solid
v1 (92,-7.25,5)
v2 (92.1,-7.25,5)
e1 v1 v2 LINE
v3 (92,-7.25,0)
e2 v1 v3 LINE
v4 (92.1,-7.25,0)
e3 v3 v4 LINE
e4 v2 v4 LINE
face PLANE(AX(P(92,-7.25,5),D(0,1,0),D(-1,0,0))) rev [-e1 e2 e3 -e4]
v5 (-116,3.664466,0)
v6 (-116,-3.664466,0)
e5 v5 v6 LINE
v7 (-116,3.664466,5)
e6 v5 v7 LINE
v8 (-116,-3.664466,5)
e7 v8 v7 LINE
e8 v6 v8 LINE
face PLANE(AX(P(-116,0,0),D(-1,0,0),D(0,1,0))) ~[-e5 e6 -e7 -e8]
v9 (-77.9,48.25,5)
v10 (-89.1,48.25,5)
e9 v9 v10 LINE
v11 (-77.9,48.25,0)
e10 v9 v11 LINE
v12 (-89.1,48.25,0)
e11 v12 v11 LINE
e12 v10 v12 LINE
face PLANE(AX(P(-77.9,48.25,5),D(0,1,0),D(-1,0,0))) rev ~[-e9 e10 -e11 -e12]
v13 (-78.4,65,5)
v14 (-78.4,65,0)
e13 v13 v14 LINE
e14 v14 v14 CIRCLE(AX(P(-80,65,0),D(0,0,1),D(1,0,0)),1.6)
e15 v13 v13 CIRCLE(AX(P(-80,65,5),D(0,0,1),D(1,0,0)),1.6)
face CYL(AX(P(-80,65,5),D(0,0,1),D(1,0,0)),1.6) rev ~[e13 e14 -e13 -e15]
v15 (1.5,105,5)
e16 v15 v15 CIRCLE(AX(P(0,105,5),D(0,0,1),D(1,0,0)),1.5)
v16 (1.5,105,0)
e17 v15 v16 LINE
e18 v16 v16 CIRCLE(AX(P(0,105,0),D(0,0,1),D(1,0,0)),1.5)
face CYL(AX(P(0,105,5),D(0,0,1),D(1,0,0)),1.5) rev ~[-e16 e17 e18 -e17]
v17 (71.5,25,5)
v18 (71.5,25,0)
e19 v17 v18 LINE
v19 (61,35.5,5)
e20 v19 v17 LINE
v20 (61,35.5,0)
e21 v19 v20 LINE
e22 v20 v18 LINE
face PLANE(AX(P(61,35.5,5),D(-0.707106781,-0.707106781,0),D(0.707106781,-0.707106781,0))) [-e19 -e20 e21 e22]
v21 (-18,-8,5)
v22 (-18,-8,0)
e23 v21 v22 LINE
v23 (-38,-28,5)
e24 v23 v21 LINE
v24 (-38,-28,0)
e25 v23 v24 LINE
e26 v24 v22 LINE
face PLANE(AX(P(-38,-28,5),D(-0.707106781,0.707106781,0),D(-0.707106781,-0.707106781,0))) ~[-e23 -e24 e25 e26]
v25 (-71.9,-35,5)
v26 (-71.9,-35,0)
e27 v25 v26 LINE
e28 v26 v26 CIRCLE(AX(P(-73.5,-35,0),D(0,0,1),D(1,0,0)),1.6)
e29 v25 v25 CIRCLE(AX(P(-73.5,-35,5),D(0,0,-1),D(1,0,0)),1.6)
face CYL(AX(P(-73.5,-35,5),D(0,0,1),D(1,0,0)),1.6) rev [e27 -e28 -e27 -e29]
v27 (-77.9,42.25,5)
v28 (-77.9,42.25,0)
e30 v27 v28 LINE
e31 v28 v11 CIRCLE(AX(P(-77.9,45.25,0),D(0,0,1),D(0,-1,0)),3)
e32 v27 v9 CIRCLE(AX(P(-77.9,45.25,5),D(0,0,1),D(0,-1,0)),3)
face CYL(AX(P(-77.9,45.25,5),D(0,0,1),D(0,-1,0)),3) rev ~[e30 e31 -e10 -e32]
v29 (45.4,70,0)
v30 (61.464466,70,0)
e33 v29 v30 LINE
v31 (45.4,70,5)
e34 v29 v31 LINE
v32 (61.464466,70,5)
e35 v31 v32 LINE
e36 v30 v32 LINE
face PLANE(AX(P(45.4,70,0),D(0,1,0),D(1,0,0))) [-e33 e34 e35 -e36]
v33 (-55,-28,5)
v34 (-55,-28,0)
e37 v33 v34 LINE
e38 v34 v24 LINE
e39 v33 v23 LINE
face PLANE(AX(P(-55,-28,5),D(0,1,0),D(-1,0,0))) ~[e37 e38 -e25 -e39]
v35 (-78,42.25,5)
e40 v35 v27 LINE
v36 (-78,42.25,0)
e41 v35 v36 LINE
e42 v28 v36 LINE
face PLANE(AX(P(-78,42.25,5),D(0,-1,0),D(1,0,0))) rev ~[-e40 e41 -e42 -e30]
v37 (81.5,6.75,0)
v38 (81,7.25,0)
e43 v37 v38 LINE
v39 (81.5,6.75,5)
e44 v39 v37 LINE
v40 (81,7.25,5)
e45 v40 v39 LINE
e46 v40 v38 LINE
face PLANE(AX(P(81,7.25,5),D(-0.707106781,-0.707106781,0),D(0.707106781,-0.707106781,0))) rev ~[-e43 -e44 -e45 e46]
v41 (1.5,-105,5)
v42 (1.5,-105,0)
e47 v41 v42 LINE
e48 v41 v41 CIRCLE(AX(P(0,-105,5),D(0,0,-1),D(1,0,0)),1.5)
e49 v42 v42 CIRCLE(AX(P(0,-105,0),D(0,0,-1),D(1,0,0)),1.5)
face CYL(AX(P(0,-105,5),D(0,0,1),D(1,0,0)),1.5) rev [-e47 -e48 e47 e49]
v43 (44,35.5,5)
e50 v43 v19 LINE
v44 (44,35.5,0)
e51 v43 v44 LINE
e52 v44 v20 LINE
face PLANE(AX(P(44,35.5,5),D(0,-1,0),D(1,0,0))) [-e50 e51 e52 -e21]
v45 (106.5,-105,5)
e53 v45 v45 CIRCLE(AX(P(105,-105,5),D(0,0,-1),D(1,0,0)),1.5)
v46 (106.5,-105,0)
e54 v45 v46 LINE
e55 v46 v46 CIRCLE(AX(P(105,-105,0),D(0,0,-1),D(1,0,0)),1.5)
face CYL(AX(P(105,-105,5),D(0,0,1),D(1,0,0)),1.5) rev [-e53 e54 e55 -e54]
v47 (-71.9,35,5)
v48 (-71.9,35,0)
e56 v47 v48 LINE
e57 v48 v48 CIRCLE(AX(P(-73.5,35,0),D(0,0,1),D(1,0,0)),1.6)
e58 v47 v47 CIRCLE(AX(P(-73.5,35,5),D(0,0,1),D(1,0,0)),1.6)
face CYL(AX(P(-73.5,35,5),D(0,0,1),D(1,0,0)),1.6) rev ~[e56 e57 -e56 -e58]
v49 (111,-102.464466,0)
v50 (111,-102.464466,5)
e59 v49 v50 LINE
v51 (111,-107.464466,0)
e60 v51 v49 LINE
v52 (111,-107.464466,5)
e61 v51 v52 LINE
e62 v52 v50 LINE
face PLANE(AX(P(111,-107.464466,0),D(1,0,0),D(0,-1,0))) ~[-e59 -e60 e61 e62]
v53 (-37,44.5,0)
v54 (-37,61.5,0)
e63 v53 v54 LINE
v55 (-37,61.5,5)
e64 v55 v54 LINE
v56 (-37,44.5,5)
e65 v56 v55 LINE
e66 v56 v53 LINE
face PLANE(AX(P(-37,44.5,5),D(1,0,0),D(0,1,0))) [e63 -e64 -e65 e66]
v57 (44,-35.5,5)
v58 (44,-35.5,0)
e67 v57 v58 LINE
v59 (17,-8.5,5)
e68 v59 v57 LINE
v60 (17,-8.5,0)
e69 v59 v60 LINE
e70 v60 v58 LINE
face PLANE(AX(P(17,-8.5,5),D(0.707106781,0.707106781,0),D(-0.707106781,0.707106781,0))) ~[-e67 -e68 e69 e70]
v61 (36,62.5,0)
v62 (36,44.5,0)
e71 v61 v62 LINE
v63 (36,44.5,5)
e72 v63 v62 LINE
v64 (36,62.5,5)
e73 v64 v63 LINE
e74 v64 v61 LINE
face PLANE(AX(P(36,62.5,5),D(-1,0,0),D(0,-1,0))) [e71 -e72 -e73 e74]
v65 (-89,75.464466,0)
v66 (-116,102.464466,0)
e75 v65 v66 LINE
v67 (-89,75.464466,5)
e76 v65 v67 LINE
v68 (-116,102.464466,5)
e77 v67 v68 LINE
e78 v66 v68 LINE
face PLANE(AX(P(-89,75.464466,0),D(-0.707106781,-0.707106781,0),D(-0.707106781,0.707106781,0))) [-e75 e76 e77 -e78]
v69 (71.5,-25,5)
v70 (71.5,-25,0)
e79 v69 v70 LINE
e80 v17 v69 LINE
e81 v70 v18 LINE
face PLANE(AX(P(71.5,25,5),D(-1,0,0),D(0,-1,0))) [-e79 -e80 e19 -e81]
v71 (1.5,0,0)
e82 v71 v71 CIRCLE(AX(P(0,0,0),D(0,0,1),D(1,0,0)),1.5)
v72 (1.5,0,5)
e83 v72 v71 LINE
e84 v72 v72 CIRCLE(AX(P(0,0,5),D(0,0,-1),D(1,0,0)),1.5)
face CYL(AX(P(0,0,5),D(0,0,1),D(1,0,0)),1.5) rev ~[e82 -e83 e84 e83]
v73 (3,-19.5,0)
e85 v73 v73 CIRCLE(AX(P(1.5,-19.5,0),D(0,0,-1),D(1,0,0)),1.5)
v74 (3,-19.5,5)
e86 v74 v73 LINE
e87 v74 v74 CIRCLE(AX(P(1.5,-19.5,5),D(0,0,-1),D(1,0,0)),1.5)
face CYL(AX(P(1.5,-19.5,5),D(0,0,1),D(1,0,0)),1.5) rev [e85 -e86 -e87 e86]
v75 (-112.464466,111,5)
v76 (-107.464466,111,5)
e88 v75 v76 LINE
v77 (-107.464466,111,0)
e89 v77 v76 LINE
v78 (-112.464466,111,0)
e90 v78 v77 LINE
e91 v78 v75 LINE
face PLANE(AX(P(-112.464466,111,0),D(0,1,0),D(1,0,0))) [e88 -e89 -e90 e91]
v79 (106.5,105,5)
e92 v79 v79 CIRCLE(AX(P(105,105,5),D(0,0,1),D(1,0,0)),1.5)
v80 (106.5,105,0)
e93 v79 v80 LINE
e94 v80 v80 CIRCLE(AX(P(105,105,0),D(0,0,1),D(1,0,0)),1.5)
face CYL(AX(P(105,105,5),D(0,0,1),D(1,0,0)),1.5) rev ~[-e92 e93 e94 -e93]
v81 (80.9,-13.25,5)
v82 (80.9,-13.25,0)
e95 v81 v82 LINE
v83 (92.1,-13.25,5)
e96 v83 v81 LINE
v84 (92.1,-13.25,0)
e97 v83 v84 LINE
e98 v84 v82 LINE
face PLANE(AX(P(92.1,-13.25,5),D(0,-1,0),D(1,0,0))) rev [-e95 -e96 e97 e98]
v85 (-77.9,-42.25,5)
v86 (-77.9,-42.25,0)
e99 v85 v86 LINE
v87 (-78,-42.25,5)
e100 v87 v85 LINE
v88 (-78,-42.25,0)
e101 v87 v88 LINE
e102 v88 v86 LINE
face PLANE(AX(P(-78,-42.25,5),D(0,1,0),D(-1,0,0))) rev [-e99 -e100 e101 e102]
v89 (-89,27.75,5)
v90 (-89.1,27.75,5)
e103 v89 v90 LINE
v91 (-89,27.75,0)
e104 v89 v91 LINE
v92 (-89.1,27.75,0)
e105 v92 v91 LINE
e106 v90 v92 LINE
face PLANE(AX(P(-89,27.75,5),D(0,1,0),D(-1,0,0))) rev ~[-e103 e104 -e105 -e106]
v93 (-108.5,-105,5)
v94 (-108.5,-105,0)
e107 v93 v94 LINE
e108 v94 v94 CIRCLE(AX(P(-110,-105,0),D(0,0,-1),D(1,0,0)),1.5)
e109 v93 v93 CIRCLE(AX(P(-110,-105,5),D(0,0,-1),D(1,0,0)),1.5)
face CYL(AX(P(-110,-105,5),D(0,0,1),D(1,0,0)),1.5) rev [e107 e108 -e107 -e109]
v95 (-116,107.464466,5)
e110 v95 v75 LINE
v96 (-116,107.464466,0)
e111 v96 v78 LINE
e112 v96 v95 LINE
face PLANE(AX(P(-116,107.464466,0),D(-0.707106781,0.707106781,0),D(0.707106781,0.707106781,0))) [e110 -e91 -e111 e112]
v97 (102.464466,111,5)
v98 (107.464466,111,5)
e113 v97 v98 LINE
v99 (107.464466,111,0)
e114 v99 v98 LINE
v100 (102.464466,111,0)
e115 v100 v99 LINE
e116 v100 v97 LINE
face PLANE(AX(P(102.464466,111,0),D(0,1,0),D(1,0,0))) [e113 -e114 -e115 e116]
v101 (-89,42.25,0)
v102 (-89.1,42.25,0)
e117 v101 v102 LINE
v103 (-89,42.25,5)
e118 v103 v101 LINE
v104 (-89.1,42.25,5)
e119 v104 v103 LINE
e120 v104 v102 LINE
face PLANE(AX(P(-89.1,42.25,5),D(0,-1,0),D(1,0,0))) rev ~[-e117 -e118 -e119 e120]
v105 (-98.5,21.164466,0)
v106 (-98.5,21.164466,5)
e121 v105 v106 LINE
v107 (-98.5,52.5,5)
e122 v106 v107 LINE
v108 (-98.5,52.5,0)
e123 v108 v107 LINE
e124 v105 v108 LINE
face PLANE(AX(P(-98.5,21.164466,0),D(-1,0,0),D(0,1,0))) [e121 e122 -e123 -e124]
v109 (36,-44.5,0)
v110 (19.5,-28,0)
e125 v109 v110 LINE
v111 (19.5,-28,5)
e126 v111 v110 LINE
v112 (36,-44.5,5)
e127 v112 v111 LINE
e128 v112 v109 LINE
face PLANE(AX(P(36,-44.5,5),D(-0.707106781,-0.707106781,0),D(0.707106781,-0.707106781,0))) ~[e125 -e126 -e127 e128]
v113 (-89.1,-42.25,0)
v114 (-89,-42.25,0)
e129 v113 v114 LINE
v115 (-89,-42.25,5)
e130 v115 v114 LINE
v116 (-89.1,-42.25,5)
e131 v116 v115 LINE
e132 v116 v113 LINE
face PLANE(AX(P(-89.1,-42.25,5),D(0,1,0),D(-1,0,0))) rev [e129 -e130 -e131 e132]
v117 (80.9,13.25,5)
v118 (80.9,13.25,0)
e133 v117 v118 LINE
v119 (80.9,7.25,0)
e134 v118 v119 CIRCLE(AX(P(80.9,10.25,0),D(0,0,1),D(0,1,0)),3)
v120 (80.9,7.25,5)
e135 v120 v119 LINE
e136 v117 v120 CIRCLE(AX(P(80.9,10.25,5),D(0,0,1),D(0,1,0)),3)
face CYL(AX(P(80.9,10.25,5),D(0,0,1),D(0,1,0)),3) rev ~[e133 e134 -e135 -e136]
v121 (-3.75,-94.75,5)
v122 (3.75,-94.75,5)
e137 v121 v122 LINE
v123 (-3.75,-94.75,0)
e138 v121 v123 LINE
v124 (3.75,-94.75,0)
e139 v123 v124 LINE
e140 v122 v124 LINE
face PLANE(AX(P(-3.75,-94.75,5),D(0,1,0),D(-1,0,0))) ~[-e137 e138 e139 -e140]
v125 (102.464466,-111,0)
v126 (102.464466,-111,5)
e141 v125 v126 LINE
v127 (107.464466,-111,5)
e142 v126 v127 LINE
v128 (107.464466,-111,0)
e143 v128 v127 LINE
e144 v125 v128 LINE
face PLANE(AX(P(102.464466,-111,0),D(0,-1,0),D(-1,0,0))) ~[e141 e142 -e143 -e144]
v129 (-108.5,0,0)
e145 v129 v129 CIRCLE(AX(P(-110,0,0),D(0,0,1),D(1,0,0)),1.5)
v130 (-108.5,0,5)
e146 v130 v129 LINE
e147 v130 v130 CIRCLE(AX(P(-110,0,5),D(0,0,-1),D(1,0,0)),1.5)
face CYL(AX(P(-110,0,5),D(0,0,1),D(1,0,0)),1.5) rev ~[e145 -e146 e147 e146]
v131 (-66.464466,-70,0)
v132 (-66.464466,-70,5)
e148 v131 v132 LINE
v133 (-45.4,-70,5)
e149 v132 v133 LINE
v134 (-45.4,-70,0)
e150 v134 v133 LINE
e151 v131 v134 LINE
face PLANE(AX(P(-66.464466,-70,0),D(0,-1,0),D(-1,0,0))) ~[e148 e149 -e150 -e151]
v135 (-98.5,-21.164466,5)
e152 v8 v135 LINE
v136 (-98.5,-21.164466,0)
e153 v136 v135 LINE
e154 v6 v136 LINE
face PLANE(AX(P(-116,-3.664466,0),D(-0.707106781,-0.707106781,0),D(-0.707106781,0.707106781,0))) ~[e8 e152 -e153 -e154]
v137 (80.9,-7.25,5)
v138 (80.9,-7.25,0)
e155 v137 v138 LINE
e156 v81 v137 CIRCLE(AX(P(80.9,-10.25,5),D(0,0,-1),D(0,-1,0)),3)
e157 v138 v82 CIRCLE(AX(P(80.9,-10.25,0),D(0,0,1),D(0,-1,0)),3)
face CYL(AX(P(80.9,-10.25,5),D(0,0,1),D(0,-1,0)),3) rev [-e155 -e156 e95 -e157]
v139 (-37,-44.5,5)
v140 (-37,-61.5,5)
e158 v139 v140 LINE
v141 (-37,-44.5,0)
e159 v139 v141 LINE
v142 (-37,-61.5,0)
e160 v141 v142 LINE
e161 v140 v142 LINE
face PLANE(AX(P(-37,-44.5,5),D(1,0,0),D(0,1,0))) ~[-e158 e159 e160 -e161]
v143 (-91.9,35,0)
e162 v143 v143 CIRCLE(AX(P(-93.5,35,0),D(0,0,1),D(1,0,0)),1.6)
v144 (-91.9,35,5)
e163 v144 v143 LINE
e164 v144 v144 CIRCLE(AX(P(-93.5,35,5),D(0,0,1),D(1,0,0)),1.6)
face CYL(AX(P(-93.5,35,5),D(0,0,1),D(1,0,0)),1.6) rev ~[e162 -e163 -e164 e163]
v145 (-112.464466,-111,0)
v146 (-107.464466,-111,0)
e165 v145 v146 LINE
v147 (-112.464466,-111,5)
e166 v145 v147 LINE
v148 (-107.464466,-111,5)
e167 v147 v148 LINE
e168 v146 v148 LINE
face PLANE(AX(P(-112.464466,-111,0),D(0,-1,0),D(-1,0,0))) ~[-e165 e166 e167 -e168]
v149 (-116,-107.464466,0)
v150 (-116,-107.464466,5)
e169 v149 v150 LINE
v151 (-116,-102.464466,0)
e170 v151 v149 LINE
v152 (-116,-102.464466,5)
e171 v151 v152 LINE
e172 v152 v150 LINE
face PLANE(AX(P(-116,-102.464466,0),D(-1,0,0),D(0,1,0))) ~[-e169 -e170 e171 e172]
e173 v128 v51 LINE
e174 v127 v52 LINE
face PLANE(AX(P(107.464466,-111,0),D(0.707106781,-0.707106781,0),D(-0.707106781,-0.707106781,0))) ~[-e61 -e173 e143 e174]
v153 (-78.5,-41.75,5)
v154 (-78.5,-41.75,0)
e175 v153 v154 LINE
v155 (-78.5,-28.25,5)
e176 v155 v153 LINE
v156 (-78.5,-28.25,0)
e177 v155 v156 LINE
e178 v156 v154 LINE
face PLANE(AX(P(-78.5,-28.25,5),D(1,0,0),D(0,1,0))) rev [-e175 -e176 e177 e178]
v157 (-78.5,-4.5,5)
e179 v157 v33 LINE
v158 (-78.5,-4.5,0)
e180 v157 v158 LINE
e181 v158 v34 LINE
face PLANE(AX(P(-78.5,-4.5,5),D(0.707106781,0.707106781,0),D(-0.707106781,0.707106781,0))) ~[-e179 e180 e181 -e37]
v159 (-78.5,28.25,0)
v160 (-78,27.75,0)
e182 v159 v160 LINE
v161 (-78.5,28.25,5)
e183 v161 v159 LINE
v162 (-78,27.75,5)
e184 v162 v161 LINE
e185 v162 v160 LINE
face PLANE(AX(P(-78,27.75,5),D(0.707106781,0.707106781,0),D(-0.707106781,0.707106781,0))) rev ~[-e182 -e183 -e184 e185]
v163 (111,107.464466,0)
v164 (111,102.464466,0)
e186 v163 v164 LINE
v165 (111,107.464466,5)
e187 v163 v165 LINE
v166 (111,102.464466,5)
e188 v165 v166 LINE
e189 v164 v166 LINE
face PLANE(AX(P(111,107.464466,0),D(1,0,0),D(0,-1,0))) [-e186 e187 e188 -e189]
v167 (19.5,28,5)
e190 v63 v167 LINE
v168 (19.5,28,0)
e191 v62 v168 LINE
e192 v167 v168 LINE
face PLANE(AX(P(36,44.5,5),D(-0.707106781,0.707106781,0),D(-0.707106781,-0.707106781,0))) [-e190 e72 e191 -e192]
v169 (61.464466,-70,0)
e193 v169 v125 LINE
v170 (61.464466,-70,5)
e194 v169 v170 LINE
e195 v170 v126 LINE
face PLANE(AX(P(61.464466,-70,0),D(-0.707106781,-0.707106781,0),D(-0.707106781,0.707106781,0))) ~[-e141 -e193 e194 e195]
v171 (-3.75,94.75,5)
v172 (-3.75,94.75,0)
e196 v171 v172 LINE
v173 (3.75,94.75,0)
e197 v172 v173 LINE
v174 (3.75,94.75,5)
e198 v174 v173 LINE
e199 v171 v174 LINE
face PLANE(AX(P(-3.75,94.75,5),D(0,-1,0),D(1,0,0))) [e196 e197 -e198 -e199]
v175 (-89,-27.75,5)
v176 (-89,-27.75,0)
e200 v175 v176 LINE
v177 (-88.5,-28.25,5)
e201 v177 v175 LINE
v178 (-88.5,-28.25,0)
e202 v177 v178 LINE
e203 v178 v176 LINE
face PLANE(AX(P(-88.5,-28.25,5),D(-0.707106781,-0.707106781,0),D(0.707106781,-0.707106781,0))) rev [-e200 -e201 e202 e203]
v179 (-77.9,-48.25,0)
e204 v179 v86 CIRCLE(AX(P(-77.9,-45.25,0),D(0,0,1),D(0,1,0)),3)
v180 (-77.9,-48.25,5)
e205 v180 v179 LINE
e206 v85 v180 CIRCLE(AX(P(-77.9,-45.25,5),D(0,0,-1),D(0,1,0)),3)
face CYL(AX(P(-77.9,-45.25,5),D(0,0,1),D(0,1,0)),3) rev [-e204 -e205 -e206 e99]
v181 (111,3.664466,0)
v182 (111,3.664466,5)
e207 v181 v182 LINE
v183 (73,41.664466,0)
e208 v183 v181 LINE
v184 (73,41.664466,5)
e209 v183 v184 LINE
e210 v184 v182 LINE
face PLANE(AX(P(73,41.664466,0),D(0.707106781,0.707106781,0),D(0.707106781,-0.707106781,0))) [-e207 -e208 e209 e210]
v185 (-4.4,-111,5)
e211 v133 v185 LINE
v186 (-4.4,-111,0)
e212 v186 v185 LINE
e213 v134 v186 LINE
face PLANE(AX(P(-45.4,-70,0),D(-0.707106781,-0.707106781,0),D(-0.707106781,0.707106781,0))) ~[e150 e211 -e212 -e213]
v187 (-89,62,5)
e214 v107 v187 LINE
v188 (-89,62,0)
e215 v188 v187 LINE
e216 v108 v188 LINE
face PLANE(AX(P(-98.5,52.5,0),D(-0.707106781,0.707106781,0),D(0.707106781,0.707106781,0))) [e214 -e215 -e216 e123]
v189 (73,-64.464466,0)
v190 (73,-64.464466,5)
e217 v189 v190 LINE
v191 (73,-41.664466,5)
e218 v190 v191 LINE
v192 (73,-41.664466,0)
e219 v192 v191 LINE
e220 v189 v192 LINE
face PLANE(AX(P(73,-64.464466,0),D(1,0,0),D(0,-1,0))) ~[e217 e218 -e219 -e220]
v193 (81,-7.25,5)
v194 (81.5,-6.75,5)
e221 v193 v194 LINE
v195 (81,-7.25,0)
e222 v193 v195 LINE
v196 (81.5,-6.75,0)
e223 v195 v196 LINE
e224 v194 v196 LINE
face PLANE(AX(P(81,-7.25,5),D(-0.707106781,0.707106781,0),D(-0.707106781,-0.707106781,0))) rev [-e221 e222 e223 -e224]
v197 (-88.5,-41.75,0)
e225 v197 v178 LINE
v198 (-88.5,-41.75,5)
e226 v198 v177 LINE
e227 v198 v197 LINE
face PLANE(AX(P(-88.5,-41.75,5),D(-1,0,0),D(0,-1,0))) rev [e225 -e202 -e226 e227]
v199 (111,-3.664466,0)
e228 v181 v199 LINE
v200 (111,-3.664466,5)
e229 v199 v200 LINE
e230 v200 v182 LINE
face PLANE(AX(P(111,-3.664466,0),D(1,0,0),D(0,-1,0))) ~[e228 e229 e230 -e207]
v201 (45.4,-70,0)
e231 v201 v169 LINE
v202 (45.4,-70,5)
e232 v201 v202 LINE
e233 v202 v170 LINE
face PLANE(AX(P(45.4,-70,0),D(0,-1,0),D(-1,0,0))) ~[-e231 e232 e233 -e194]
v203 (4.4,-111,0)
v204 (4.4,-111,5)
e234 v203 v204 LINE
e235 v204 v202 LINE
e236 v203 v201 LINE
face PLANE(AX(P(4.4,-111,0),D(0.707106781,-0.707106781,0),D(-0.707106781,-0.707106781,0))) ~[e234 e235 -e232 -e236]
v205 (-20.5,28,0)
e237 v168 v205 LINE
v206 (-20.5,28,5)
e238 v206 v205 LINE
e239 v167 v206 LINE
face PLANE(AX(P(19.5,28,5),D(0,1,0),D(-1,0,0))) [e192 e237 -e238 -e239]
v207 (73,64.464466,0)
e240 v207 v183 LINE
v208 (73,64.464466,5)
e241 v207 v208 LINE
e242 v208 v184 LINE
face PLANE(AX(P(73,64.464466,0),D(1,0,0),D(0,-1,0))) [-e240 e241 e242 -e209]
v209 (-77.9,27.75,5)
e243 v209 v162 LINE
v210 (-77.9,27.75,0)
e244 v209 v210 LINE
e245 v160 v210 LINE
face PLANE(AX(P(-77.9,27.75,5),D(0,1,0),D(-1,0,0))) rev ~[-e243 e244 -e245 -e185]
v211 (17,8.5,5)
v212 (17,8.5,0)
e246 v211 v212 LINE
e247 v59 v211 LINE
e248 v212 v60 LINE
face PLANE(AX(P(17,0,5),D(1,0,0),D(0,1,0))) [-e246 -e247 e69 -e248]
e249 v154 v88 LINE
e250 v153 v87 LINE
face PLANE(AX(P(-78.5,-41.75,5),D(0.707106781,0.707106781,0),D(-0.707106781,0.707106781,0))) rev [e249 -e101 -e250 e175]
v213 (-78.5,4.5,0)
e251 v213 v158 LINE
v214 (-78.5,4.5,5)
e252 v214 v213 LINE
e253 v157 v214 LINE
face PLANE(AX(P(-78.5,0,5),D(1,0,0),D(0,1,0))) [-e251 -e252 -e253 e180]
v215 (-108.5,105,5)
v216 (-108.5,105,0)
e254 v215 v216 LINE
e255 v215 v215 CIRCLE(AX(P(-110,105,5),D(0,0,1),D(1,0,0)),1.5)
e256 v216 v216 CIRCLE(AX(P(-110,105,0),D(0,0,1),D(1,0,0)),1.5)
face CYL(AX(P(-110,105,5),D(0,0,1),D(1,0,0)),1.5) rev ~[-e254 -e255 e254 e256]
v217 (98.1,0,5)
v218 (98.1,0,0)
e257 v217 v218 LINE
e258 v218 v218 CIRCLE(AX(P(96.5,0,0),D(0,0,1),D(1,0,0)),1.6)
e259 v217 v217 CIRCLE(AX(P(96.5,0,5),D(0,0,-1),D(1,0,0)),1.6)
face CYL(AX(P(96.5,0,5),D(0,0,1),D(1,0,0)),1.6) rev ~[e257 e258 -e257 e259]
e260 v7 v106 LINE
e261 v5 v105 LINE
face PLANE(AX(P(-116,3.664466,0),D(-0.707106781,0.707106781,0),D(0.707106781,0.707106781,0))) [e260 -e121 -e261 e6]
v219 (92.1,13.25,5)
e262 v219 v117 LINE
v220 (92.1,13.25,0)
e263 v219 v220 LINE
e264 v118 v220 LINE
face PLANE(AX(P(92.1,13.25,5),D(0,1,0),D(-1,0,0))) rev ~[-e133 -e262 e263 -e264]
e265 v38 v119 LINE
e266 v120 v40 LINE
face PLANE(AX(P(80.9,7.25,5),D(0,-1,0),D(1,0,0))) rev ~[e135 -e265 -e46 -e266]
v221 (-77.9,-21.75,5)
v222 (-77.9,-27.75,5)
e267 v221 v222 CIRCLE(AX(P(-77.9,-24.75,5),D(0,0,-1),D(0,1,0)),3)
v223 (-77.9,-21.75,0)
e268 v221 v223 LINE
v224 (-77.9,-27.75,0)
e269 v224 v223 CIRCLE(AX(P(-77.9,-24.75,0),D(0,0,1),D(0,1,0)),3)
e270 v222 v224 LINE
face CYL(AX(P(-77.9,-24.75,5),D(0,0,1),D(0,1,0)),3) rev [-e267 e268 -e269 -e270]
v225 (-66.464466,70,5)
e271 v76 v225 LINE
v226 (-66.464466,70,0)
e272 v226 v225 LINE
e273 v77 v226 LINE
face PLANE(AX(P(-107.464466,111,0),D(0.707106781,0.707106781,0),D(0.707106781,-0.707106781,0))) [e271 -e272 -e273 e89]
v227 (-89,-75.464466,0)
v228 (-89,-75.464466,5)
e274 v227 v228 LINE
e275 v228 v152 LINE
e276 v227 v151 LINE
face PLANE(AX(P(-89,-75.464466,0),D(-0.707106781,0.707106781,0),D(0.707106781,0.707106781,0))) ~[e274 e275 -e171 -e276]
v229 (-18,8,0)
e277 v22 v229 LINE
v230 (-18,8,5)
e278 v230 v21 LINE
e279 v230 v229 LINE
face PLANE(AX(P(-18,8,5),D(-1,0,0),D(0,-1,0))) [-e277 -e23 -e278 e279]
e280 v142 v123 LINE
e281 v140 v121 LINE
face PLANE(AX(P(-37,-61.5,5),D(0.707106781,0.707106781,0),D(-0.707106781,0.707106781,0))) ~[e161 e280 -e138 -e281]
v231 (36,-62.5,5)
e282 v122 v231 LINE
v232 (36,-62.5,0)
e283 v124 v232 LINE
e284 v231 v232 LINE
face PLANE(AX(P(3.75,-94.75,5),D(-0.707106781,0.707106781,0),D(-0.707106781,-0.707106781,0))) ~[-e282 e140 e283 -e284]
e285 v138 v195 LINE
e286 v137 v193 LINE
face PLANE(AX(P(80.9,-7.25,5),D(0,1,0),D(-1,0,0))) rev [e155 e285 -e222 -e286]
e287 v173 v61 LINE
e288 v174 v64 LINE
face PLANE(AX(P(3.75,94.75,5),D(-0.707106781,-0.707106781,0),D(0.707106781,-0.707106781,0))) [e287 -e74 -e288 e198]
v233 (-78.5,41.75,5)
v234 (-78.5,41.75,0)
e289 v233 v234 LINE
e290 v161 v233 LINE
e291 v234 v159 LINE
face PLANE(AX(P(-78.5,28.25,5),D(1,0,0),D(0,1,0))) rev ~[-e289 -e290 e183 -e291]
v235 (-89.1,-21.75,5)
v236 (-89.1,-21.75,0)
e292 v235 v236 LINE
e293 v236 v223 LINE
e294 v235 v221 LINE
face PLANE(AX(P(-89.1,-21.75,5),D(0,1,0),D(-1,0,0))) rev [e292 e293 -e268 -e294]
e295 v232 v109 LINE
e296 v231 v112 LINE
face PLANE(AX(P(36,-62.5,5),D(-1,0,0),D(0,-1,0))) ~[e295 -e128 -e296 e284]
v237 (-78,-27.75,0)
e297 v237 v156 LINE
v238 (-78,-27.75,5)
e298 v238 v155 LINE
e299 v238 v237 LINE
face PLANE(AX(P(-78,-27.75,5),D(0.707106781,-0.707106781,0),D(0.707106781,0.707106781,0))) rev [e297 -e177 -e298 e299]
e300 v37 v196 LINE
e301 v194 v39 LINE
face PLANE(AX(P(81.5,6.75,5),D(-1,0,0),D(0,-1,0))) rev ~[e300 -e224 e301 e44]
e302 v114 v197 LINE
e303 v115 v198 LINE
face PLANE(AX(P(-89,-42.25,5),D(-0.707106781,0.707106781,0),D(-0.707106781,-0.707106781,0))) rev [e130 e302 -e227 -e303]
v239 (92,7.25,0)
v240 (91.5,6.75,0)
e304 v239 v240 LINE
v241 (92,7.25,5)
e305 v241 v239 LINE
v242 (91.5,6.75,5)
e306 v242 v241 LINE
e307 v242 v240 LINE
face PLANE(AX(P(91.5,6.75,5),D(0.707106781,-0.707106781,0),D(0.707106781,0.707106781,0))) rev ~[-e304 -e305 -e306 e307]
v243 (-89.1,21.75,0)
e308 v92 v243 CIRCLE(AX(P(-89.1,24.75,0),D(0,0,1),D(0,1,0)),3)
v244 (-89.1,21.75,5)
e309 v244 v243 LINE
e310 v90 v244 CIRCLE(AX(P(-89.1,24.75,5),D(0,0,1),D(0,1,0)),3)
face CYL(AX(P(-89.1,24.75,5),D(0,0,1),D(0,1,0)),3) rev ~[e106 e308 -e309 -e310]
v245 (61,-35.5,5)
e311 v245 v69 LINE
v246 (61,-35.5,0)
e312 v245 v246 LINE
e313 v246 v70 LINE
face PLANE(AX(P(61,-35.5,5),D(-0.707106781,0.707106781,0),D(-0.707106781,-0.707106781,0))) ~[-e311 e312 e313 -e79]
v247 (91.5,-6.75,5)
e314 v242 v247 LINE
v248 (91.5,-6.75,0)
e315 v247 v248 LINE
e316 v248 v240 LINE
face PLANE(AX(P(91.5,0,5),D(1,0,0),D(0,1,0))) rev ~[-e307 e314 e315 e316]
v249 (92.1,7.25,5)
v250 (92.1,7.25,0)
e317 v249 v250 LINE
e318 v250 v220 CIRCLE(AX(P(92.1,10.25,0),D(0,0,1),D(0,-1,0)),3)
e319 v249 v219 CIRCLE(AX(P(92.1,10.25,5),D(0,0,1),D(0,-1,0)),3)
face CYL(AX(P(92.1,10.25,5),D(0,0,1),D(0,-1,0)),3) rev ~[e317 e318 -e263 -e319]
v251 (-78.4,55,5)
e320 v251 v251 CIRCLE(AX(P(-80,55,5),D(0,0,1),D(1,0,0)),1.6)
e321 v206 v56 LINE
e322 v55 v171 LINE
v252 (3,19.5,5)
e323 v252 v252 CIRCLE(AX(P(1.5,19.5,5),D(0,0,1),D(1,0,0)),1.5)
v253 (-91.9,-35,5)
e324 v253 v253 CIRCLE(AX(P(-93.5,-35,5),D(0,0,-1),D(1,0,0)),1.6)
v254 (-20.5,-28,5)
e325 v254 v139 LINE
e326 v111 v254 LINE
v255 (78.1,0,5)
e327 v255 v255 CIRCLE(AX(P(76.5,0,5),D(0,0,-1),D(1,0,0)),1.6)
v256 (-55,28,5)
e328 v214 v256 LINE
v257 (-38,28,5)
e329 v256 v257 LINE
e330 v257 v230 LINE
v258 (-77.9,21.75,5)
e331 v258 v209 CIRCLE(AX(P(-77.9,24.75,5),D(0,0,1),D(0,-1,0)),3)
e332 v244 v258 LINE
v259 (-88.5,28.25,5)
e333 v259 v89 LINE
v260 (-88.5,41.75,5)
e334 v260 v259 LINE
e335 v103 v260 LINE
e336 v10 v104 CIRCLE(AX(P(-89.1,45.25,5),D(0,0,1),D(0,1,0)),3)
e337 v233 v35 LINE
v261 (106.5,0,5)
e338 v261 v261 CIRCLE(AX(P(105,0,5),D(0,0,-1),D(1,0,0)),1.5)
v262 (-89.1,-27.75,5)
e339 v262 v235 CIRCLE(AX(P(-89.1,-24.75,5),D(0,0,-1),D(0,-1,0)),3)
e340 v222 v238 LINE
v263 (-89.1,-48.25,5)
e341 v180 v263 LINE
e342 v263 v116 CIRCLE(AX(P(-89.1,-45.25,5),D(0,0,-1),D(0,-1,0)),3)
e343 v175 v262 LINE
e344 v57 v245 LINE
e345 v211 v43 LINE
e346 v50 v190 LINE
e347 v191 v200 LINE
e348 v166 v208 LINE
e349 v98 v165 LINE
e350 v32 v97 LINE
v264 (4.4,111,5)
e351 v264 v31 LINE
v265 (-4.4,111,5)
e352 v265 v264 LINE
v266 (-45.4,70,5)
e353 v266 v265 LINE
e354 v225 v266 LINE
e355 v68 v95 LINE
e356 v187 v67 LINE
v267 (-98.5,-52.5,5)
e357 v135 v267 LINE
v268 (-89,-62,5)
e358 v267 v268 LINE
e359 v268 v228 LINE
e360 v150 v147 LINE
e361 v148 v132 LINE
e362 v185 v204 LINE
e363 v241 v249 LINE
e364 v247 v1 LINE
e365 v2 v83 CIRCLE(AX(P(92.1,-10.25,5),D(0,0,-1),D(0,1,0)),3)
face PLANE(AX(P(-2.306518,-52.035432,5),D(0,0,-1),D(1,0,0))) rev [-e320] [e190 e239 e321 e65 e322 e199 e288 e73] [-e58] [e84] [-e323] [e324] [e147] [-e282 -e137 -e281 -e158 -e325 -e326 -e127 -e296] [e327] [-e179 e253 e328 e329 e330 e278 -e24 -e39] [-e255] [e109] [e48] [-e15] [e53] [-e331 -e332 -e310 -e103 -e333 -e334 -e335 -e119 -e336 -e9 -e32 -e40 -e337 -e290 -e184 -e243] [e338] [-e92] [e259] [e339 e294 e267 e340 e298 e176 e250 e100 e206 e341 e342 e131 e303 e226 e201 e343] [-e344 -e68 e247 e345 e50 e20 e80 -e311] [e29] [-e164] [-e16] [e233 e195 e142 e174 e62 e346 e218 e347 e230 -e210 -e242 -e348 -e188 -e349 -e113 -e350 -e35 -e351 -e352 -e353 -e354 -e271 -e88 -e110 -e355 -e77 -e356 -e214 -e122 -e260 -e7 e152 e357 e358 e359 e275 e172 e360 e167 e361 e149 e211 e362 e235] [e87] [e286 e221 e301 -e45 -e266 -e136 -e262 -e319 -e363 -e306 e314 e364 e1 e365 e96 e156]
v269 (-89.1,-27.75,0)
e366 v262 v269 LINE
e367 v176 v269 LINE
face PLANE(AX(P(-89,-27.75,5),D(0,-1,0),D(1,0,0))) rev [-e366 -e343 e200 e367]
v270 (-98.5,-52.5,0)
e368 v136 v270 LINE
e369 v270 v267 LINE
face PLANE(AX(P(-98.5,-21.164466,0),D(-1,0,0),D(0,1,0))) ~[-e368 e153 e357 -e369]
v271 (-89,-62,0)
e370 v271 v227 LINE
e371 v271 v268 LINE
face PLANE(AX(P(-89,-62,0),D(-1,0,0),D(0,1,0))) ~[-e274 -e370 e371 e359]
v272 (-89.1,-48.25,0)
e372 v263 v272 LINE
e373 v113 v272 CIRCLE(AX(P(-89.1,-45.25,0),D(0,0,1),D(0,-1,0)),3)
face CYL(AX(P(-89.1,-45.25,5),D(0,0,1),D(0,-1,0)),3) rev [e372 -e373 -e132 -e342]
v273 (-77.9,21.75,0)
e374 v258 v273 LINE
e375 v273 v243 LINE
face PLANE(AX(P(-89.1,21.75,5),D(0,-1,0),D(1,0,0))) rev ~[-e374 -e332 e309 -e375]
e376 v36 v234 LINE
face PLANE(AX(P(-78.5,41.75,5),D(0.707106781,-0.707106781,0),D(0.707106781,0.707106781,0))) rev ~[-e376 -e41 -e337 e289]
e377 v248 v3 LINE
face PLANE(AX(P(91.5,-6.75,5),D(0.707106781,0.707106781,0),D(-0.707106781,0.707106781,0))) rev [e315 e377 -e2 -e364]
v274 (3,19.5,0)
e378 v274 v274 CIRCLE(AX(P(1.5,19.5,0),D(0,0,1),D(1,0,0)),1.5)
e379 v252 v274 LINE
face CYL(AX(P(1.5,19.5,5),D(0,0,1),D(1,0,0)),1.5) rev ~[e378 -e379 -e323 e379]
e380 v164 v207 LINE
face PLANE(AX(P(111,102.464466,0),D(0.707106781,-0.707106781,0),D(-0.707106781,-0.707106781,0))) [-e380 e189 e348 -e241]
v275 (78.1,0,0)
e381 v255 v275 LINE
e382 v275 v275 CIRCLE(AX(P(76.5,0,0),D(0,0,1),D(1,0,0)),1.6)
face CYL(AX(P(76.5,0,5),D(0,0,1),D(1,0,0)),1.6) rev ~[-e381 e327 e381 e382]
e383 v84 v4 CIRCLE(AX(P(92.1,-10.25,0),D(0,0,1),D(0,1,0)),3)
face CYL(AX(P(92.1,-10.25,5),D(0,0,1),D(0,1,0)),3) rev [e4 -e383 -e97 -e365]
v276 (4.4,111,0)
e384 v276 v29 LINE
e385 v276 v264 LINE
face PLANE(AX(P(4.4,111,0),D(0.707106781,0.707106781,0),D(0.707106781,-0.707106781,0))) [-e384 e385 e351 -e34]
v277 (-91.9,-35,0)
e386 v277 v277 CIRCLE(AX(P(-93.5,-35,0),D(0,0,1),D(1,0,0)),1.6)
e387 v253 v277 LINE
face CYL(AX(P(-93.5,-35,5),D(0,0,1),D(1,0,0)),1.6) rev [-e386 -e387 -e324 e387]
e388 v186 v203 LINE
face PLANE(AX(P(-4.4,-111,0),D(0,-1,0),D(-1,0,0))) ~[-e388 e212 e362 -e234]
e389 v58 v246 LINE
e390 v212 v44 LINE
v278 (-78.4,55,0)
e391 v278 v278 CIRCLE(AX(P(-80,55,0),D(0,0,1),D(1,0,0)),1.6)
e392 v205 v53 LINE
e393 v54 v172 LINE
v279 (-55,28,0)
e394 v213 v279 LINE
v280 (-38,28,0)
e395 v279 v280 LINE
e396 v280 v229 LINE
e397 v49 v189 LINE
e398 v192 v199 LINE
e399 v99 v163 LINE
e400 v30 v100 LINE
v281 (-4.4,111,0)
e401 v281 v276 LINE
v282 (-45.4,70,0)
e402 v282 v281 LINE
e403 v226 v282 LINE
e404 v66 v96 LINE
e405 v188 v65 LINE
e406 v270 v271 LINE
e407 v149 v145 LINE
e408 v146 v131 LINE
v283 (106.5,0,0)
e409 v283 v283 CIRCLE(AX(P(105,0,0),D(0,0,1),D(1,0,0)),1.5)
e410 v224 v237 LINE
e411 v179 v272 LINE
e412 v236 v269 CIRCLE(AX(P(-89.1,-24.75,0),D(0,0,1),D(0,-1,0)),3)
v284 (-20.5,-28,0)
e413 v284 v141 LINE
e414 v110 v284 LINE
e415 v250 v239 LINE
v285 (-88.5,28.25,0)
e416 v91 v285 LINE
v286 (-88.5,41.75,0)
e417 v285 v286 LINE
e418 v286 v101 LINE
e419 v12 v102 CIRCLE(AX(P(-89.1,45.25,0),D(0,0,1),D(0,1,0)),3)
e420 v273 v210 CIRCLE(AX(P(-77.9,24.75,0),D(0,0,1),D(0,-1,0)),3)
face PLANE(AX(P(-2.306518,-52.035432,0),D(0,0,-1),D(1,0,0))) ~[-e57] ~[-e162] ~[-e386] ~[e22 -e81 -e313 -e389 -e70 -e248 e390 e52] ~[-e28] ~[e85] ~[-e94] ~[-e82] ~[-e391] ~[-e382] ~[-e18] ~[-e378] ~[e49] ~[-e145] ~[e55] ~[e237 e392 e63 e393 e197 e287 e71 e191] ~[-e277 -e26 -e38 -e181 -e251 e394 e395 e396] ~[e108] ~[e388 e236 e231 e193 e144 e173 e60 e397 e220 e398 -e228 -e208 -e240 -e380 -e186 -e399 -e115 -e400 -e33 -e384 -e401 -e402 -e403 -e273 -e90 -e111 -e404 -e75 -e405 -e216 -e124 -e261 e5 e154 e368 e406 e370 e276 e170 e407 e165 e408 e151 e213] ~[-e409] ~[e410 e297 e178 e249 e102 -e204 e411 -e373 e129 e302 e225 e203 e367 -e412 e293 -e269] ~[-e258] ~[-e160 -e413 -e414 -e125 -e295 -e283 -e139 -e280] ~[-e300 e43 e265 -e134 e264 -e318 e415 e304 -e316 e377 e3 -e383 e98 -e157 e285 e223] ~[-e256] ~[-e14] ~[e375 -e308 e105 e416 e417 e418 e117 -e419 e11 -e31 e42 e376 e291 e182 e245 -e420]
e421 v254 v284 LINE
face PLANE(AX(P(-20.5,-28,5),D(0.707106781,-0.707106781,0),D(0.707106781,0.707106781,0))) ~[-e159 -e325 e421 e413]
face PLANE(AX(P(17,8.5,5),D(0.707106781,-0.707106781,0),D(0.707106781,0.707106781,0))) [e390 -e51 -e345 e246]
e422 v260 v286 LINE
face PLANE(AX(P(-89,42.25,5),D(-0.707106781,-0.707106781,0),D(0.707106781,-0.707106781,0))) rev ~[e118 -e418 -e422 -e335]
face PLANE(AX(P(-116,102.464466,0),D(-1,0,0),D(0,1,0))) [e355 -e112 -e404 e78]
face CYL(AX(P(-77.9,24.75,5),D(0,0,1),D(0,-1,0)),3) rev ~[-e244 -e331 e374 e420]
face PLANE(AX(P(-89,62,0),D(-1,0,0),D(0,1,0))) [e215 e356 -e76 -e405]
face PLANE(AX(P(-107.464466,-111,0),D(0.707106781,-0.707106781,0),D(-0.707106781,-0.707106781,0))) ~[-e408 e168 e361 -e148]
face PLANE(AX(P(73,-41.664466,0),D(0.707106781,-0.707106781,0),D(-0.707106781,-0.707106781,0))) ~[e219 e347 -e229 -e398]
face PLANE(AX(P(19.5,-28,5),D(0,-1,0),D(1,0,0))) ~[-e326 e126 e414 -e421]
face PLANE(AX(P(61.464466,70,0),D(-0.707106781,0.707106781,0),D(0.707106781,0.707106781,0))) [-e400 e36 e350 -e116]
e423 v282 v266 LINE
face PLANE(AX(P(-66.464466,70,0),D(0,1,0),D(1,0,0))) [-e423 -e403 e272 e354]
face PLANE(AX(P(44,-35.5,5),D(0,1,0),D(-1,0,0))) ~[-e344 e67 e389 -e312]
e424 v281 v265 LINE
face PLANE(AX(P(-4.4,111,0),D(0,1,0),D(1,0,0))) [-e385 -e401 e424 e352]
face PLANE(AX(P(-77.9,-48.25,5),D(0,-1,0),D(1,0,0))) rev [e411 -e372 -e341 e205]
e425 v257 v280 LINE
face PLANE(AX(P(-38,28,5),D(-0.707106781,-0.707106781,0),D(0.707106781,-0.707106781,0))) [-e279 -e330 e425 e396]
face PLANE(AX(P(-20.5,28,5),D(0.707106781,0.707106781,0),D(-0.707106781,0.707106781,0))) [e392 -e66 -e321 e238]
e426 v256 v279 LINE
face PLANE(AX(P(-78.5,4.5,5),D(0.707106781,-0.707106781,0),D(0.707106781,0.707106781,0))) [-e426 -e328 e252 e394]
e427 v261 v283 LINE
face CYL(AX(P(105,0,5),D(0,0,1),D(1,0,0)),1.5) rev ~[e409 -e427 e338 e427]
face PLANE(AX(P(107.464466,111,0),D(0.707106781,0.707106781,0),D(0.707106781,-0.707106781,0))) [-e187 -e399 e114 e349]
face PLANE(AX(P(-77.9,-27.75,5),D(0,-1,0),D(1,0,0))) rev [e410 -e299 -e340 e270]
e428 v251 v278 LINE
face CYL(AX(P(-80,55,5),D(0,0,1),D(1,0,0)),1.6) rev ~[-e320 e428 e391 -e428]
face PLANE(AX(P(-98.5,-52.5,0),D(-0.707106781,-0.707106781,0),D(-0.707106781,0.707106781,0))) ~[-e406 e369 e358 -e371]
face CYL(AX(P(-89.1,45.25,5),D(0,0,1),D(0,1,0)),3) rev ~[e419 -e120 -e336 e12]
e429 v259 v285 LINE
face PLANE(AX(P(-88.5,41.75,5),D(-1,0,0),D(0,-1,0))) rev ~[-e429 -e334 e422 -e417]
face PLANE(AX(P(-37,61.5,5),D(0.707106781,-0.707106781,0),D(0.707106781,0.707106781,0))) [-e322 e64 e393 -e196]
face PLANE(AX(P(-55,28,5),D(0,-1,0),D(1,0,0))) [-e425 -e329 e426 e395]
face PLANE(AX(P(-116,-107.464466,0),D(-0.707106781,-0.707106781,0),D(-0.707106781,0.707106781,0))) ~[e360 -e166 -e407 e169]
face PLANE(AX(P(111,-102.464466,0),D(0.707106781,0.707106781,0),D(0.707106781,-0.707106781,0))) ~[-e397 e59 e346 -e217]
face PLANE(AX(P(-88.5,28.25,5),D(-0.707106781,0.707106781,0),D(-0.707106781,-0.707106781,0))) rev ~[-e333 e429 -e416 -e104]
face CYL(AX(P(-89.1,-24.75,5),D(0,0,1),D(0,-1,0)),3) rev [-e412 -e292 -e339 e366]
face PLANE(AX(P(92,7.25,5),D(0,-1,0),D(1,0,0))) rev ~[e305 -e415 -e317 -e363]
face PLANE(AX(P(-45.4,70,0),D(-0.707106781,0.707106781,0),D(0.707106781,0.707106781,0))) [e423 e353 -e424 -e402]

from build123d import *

# Parameters (mm, degrees)
PAD_DEPTH       = 5
SKETCH001_R     = 1.5
POCKET_DEPTH    = 5
SKETCH002_R     = 1.6
POCKET001_DEPTH = 510.471078
SKETCH003_R     = 1.6
POCKET002_DEPTH = 5.001


with BuildPart() as part:
    # Sketch → Pad (new body)
    with BuildSketch(Plane.XY):
        Polygon((-116, 0), (-116, 3.664466), (-98.5, 21.164466), (-98.5, 52.5), (-89, 62), (-89, 75.464466), (-116, 102.464466), (-116, 107.464466), (-112.464466, 111), (-107.464466, 111), (-66.464466, 70), (-45.4, 70), (-4.4, 111), (4.4, 111), (45.4, 70), (61.464466, 70), (102.464466, 111), (107.464466, 111), (111, 107.464466), (111, 102.464466), (73, 64.464466), (73, 41.664466), (111, 3.664466), (111, 0), align=None)
    pad = extrude(amount=PAD_DEPTH)

    # Sketch001 → Pocket (cut)
    with BuildSketch(Plane.XY.offset(5)):
        with Locations((-110, 0)):
            Circle(SKETCH001_R)
        with Locations((-110, 105)):
            Circle(SKETCH001_R)
        with Locations((0, 105)):
            Circle(SKETCH001_R)
        with Locations((105, 105)):
            Circle(SKETCH001_R)
        with Locations((105, 0)):
            Circle(SKETCH001_R)
        Circle(SKETCH001_R)
        with Locations((1.5, 19.5)):
            Circle(SKETCH001_R)
        Polygon((-78.5, 0), (-78.5, 4.5), (-55, 28), (-38, 28), (-18, 8), (-18, 0), align=None)
        Polygon((17, 0), (17, 8.5), (44, 35.5), (61, 35.5), (71.5, 25), (71.5, 0), align=None)
        Polygon((-3.75, 94.75), (3.75, 94.75), (36, 62.5), (36, 44.5), (19.5, 28), (-20.5, 28), (-37, 44.5), (-37, 61.5), align=None)
    pocket = extrude(amount=-POCKET_DEPTH, mode=Mode.SUBTRACT)

    # Sketch002 → Pocket001 (cut, through all)
    with BuildSketch(Plane.XY.offset(5)):
        with Locations((-93.5, 35)):
            Circle(SKETCH002_R)
        with Locations((-73.5, 35)):
            Circle(SKETCH002_R)
        with Locations((76.5, 0)):
            Circle(SKETCH002_R)
        with Locations((96.5, 0)):
            Circle(SKETCH002_R)
        with BuildLine():
            ThreePointArc((-89.1, 48.25), (-92.1, 45.25), (-89.1, 42.25))
            Line((-89.1, 42.25), (-89, 42.25))
            Line((-89, 42.25), (-88.5, 41.75))
            Line((-88.5, 41.75), (-88.5, 28.25))
            Line((-88.5, 28.25), (-89, 27.75))
            Line((-89, 27.75), (-89.1, 27.75))
            ThreePointArc((-89.1, 27.75), (-92.1, 24.75), (-89.1, 21.75))
            Line((-89.1, 21.75), (-77.9, 21.75))
            ThreePointArc((-77.9, 21.75), (-74.9, 24.75), (-77.9, 27.75))
            Line((-77.9, 27.75), (-78, 27.75))
            Line((-78, 27.75), (-78.5, 28.25))
            Line((-78.5, 28.25), (-78.5, 41.75))
            Line((-78.5, 41.75), (-78, 42.25))
            Line((-78, 42.25), (-77.9, 42.25))
            ThreePointArc((-77.9, 42.25), (-74.9, 45.25), (-77.9, 48.25))
            Line((-77.9, 48.25), (-89.1, 48.25))
        make_face()
        with BuildLine():
            ThreePointArc((80.9, 13.25), (77.9, 10.25), (80.9, 7.25))
            Line((80.9, 7.25), (81, 7.25))
            Line((81, 7.25), (81.5, 6.75))
            Line((81.5, 6.75), (81.5, 0))
            Line((81.5, 0), (91.5, 0))
            Line((91.5, 0), (91.5, 6.75))
            Line((91.5, 6.75), (92, 7.25))
            Line((92, 7.25), (92.1, 7.25))
            ThreePointArc((92.1, 7.25), (95.1, 10.25), (92.1, 13.25))
            Line((92.1, 13.25), (80.9, 13.25))
        make_face()
    pocket001 = extrude(amount=-POCKET001_DEPTH, mode=Mode.SUBTRACT)

    # Mirrored: Pad, Pocket, Pocket001 across Sketch H_Axis
    add(pad.mirror(Plane.ZX))
    add(pocket.mirror(Plane.ZX), mode=Mode.SUBTRACT)
    add(pocket001.mirror(Plane.ZX), mode=Mode.SUBTRACT)

    # Sketch003 → Pocket002 (cut, through all)
    with BuildSketch(Plane.XY.offset(5)):
        with Locations((-80, 65)):
            Circle(SKETCH003_R)
        with Locations((-80, 55)):
            Circle(SKETCH003_R)
    extrude(amount=-POCKET002_DEPTH, mode=Mode.SUBTRACT)


solid = part.part
